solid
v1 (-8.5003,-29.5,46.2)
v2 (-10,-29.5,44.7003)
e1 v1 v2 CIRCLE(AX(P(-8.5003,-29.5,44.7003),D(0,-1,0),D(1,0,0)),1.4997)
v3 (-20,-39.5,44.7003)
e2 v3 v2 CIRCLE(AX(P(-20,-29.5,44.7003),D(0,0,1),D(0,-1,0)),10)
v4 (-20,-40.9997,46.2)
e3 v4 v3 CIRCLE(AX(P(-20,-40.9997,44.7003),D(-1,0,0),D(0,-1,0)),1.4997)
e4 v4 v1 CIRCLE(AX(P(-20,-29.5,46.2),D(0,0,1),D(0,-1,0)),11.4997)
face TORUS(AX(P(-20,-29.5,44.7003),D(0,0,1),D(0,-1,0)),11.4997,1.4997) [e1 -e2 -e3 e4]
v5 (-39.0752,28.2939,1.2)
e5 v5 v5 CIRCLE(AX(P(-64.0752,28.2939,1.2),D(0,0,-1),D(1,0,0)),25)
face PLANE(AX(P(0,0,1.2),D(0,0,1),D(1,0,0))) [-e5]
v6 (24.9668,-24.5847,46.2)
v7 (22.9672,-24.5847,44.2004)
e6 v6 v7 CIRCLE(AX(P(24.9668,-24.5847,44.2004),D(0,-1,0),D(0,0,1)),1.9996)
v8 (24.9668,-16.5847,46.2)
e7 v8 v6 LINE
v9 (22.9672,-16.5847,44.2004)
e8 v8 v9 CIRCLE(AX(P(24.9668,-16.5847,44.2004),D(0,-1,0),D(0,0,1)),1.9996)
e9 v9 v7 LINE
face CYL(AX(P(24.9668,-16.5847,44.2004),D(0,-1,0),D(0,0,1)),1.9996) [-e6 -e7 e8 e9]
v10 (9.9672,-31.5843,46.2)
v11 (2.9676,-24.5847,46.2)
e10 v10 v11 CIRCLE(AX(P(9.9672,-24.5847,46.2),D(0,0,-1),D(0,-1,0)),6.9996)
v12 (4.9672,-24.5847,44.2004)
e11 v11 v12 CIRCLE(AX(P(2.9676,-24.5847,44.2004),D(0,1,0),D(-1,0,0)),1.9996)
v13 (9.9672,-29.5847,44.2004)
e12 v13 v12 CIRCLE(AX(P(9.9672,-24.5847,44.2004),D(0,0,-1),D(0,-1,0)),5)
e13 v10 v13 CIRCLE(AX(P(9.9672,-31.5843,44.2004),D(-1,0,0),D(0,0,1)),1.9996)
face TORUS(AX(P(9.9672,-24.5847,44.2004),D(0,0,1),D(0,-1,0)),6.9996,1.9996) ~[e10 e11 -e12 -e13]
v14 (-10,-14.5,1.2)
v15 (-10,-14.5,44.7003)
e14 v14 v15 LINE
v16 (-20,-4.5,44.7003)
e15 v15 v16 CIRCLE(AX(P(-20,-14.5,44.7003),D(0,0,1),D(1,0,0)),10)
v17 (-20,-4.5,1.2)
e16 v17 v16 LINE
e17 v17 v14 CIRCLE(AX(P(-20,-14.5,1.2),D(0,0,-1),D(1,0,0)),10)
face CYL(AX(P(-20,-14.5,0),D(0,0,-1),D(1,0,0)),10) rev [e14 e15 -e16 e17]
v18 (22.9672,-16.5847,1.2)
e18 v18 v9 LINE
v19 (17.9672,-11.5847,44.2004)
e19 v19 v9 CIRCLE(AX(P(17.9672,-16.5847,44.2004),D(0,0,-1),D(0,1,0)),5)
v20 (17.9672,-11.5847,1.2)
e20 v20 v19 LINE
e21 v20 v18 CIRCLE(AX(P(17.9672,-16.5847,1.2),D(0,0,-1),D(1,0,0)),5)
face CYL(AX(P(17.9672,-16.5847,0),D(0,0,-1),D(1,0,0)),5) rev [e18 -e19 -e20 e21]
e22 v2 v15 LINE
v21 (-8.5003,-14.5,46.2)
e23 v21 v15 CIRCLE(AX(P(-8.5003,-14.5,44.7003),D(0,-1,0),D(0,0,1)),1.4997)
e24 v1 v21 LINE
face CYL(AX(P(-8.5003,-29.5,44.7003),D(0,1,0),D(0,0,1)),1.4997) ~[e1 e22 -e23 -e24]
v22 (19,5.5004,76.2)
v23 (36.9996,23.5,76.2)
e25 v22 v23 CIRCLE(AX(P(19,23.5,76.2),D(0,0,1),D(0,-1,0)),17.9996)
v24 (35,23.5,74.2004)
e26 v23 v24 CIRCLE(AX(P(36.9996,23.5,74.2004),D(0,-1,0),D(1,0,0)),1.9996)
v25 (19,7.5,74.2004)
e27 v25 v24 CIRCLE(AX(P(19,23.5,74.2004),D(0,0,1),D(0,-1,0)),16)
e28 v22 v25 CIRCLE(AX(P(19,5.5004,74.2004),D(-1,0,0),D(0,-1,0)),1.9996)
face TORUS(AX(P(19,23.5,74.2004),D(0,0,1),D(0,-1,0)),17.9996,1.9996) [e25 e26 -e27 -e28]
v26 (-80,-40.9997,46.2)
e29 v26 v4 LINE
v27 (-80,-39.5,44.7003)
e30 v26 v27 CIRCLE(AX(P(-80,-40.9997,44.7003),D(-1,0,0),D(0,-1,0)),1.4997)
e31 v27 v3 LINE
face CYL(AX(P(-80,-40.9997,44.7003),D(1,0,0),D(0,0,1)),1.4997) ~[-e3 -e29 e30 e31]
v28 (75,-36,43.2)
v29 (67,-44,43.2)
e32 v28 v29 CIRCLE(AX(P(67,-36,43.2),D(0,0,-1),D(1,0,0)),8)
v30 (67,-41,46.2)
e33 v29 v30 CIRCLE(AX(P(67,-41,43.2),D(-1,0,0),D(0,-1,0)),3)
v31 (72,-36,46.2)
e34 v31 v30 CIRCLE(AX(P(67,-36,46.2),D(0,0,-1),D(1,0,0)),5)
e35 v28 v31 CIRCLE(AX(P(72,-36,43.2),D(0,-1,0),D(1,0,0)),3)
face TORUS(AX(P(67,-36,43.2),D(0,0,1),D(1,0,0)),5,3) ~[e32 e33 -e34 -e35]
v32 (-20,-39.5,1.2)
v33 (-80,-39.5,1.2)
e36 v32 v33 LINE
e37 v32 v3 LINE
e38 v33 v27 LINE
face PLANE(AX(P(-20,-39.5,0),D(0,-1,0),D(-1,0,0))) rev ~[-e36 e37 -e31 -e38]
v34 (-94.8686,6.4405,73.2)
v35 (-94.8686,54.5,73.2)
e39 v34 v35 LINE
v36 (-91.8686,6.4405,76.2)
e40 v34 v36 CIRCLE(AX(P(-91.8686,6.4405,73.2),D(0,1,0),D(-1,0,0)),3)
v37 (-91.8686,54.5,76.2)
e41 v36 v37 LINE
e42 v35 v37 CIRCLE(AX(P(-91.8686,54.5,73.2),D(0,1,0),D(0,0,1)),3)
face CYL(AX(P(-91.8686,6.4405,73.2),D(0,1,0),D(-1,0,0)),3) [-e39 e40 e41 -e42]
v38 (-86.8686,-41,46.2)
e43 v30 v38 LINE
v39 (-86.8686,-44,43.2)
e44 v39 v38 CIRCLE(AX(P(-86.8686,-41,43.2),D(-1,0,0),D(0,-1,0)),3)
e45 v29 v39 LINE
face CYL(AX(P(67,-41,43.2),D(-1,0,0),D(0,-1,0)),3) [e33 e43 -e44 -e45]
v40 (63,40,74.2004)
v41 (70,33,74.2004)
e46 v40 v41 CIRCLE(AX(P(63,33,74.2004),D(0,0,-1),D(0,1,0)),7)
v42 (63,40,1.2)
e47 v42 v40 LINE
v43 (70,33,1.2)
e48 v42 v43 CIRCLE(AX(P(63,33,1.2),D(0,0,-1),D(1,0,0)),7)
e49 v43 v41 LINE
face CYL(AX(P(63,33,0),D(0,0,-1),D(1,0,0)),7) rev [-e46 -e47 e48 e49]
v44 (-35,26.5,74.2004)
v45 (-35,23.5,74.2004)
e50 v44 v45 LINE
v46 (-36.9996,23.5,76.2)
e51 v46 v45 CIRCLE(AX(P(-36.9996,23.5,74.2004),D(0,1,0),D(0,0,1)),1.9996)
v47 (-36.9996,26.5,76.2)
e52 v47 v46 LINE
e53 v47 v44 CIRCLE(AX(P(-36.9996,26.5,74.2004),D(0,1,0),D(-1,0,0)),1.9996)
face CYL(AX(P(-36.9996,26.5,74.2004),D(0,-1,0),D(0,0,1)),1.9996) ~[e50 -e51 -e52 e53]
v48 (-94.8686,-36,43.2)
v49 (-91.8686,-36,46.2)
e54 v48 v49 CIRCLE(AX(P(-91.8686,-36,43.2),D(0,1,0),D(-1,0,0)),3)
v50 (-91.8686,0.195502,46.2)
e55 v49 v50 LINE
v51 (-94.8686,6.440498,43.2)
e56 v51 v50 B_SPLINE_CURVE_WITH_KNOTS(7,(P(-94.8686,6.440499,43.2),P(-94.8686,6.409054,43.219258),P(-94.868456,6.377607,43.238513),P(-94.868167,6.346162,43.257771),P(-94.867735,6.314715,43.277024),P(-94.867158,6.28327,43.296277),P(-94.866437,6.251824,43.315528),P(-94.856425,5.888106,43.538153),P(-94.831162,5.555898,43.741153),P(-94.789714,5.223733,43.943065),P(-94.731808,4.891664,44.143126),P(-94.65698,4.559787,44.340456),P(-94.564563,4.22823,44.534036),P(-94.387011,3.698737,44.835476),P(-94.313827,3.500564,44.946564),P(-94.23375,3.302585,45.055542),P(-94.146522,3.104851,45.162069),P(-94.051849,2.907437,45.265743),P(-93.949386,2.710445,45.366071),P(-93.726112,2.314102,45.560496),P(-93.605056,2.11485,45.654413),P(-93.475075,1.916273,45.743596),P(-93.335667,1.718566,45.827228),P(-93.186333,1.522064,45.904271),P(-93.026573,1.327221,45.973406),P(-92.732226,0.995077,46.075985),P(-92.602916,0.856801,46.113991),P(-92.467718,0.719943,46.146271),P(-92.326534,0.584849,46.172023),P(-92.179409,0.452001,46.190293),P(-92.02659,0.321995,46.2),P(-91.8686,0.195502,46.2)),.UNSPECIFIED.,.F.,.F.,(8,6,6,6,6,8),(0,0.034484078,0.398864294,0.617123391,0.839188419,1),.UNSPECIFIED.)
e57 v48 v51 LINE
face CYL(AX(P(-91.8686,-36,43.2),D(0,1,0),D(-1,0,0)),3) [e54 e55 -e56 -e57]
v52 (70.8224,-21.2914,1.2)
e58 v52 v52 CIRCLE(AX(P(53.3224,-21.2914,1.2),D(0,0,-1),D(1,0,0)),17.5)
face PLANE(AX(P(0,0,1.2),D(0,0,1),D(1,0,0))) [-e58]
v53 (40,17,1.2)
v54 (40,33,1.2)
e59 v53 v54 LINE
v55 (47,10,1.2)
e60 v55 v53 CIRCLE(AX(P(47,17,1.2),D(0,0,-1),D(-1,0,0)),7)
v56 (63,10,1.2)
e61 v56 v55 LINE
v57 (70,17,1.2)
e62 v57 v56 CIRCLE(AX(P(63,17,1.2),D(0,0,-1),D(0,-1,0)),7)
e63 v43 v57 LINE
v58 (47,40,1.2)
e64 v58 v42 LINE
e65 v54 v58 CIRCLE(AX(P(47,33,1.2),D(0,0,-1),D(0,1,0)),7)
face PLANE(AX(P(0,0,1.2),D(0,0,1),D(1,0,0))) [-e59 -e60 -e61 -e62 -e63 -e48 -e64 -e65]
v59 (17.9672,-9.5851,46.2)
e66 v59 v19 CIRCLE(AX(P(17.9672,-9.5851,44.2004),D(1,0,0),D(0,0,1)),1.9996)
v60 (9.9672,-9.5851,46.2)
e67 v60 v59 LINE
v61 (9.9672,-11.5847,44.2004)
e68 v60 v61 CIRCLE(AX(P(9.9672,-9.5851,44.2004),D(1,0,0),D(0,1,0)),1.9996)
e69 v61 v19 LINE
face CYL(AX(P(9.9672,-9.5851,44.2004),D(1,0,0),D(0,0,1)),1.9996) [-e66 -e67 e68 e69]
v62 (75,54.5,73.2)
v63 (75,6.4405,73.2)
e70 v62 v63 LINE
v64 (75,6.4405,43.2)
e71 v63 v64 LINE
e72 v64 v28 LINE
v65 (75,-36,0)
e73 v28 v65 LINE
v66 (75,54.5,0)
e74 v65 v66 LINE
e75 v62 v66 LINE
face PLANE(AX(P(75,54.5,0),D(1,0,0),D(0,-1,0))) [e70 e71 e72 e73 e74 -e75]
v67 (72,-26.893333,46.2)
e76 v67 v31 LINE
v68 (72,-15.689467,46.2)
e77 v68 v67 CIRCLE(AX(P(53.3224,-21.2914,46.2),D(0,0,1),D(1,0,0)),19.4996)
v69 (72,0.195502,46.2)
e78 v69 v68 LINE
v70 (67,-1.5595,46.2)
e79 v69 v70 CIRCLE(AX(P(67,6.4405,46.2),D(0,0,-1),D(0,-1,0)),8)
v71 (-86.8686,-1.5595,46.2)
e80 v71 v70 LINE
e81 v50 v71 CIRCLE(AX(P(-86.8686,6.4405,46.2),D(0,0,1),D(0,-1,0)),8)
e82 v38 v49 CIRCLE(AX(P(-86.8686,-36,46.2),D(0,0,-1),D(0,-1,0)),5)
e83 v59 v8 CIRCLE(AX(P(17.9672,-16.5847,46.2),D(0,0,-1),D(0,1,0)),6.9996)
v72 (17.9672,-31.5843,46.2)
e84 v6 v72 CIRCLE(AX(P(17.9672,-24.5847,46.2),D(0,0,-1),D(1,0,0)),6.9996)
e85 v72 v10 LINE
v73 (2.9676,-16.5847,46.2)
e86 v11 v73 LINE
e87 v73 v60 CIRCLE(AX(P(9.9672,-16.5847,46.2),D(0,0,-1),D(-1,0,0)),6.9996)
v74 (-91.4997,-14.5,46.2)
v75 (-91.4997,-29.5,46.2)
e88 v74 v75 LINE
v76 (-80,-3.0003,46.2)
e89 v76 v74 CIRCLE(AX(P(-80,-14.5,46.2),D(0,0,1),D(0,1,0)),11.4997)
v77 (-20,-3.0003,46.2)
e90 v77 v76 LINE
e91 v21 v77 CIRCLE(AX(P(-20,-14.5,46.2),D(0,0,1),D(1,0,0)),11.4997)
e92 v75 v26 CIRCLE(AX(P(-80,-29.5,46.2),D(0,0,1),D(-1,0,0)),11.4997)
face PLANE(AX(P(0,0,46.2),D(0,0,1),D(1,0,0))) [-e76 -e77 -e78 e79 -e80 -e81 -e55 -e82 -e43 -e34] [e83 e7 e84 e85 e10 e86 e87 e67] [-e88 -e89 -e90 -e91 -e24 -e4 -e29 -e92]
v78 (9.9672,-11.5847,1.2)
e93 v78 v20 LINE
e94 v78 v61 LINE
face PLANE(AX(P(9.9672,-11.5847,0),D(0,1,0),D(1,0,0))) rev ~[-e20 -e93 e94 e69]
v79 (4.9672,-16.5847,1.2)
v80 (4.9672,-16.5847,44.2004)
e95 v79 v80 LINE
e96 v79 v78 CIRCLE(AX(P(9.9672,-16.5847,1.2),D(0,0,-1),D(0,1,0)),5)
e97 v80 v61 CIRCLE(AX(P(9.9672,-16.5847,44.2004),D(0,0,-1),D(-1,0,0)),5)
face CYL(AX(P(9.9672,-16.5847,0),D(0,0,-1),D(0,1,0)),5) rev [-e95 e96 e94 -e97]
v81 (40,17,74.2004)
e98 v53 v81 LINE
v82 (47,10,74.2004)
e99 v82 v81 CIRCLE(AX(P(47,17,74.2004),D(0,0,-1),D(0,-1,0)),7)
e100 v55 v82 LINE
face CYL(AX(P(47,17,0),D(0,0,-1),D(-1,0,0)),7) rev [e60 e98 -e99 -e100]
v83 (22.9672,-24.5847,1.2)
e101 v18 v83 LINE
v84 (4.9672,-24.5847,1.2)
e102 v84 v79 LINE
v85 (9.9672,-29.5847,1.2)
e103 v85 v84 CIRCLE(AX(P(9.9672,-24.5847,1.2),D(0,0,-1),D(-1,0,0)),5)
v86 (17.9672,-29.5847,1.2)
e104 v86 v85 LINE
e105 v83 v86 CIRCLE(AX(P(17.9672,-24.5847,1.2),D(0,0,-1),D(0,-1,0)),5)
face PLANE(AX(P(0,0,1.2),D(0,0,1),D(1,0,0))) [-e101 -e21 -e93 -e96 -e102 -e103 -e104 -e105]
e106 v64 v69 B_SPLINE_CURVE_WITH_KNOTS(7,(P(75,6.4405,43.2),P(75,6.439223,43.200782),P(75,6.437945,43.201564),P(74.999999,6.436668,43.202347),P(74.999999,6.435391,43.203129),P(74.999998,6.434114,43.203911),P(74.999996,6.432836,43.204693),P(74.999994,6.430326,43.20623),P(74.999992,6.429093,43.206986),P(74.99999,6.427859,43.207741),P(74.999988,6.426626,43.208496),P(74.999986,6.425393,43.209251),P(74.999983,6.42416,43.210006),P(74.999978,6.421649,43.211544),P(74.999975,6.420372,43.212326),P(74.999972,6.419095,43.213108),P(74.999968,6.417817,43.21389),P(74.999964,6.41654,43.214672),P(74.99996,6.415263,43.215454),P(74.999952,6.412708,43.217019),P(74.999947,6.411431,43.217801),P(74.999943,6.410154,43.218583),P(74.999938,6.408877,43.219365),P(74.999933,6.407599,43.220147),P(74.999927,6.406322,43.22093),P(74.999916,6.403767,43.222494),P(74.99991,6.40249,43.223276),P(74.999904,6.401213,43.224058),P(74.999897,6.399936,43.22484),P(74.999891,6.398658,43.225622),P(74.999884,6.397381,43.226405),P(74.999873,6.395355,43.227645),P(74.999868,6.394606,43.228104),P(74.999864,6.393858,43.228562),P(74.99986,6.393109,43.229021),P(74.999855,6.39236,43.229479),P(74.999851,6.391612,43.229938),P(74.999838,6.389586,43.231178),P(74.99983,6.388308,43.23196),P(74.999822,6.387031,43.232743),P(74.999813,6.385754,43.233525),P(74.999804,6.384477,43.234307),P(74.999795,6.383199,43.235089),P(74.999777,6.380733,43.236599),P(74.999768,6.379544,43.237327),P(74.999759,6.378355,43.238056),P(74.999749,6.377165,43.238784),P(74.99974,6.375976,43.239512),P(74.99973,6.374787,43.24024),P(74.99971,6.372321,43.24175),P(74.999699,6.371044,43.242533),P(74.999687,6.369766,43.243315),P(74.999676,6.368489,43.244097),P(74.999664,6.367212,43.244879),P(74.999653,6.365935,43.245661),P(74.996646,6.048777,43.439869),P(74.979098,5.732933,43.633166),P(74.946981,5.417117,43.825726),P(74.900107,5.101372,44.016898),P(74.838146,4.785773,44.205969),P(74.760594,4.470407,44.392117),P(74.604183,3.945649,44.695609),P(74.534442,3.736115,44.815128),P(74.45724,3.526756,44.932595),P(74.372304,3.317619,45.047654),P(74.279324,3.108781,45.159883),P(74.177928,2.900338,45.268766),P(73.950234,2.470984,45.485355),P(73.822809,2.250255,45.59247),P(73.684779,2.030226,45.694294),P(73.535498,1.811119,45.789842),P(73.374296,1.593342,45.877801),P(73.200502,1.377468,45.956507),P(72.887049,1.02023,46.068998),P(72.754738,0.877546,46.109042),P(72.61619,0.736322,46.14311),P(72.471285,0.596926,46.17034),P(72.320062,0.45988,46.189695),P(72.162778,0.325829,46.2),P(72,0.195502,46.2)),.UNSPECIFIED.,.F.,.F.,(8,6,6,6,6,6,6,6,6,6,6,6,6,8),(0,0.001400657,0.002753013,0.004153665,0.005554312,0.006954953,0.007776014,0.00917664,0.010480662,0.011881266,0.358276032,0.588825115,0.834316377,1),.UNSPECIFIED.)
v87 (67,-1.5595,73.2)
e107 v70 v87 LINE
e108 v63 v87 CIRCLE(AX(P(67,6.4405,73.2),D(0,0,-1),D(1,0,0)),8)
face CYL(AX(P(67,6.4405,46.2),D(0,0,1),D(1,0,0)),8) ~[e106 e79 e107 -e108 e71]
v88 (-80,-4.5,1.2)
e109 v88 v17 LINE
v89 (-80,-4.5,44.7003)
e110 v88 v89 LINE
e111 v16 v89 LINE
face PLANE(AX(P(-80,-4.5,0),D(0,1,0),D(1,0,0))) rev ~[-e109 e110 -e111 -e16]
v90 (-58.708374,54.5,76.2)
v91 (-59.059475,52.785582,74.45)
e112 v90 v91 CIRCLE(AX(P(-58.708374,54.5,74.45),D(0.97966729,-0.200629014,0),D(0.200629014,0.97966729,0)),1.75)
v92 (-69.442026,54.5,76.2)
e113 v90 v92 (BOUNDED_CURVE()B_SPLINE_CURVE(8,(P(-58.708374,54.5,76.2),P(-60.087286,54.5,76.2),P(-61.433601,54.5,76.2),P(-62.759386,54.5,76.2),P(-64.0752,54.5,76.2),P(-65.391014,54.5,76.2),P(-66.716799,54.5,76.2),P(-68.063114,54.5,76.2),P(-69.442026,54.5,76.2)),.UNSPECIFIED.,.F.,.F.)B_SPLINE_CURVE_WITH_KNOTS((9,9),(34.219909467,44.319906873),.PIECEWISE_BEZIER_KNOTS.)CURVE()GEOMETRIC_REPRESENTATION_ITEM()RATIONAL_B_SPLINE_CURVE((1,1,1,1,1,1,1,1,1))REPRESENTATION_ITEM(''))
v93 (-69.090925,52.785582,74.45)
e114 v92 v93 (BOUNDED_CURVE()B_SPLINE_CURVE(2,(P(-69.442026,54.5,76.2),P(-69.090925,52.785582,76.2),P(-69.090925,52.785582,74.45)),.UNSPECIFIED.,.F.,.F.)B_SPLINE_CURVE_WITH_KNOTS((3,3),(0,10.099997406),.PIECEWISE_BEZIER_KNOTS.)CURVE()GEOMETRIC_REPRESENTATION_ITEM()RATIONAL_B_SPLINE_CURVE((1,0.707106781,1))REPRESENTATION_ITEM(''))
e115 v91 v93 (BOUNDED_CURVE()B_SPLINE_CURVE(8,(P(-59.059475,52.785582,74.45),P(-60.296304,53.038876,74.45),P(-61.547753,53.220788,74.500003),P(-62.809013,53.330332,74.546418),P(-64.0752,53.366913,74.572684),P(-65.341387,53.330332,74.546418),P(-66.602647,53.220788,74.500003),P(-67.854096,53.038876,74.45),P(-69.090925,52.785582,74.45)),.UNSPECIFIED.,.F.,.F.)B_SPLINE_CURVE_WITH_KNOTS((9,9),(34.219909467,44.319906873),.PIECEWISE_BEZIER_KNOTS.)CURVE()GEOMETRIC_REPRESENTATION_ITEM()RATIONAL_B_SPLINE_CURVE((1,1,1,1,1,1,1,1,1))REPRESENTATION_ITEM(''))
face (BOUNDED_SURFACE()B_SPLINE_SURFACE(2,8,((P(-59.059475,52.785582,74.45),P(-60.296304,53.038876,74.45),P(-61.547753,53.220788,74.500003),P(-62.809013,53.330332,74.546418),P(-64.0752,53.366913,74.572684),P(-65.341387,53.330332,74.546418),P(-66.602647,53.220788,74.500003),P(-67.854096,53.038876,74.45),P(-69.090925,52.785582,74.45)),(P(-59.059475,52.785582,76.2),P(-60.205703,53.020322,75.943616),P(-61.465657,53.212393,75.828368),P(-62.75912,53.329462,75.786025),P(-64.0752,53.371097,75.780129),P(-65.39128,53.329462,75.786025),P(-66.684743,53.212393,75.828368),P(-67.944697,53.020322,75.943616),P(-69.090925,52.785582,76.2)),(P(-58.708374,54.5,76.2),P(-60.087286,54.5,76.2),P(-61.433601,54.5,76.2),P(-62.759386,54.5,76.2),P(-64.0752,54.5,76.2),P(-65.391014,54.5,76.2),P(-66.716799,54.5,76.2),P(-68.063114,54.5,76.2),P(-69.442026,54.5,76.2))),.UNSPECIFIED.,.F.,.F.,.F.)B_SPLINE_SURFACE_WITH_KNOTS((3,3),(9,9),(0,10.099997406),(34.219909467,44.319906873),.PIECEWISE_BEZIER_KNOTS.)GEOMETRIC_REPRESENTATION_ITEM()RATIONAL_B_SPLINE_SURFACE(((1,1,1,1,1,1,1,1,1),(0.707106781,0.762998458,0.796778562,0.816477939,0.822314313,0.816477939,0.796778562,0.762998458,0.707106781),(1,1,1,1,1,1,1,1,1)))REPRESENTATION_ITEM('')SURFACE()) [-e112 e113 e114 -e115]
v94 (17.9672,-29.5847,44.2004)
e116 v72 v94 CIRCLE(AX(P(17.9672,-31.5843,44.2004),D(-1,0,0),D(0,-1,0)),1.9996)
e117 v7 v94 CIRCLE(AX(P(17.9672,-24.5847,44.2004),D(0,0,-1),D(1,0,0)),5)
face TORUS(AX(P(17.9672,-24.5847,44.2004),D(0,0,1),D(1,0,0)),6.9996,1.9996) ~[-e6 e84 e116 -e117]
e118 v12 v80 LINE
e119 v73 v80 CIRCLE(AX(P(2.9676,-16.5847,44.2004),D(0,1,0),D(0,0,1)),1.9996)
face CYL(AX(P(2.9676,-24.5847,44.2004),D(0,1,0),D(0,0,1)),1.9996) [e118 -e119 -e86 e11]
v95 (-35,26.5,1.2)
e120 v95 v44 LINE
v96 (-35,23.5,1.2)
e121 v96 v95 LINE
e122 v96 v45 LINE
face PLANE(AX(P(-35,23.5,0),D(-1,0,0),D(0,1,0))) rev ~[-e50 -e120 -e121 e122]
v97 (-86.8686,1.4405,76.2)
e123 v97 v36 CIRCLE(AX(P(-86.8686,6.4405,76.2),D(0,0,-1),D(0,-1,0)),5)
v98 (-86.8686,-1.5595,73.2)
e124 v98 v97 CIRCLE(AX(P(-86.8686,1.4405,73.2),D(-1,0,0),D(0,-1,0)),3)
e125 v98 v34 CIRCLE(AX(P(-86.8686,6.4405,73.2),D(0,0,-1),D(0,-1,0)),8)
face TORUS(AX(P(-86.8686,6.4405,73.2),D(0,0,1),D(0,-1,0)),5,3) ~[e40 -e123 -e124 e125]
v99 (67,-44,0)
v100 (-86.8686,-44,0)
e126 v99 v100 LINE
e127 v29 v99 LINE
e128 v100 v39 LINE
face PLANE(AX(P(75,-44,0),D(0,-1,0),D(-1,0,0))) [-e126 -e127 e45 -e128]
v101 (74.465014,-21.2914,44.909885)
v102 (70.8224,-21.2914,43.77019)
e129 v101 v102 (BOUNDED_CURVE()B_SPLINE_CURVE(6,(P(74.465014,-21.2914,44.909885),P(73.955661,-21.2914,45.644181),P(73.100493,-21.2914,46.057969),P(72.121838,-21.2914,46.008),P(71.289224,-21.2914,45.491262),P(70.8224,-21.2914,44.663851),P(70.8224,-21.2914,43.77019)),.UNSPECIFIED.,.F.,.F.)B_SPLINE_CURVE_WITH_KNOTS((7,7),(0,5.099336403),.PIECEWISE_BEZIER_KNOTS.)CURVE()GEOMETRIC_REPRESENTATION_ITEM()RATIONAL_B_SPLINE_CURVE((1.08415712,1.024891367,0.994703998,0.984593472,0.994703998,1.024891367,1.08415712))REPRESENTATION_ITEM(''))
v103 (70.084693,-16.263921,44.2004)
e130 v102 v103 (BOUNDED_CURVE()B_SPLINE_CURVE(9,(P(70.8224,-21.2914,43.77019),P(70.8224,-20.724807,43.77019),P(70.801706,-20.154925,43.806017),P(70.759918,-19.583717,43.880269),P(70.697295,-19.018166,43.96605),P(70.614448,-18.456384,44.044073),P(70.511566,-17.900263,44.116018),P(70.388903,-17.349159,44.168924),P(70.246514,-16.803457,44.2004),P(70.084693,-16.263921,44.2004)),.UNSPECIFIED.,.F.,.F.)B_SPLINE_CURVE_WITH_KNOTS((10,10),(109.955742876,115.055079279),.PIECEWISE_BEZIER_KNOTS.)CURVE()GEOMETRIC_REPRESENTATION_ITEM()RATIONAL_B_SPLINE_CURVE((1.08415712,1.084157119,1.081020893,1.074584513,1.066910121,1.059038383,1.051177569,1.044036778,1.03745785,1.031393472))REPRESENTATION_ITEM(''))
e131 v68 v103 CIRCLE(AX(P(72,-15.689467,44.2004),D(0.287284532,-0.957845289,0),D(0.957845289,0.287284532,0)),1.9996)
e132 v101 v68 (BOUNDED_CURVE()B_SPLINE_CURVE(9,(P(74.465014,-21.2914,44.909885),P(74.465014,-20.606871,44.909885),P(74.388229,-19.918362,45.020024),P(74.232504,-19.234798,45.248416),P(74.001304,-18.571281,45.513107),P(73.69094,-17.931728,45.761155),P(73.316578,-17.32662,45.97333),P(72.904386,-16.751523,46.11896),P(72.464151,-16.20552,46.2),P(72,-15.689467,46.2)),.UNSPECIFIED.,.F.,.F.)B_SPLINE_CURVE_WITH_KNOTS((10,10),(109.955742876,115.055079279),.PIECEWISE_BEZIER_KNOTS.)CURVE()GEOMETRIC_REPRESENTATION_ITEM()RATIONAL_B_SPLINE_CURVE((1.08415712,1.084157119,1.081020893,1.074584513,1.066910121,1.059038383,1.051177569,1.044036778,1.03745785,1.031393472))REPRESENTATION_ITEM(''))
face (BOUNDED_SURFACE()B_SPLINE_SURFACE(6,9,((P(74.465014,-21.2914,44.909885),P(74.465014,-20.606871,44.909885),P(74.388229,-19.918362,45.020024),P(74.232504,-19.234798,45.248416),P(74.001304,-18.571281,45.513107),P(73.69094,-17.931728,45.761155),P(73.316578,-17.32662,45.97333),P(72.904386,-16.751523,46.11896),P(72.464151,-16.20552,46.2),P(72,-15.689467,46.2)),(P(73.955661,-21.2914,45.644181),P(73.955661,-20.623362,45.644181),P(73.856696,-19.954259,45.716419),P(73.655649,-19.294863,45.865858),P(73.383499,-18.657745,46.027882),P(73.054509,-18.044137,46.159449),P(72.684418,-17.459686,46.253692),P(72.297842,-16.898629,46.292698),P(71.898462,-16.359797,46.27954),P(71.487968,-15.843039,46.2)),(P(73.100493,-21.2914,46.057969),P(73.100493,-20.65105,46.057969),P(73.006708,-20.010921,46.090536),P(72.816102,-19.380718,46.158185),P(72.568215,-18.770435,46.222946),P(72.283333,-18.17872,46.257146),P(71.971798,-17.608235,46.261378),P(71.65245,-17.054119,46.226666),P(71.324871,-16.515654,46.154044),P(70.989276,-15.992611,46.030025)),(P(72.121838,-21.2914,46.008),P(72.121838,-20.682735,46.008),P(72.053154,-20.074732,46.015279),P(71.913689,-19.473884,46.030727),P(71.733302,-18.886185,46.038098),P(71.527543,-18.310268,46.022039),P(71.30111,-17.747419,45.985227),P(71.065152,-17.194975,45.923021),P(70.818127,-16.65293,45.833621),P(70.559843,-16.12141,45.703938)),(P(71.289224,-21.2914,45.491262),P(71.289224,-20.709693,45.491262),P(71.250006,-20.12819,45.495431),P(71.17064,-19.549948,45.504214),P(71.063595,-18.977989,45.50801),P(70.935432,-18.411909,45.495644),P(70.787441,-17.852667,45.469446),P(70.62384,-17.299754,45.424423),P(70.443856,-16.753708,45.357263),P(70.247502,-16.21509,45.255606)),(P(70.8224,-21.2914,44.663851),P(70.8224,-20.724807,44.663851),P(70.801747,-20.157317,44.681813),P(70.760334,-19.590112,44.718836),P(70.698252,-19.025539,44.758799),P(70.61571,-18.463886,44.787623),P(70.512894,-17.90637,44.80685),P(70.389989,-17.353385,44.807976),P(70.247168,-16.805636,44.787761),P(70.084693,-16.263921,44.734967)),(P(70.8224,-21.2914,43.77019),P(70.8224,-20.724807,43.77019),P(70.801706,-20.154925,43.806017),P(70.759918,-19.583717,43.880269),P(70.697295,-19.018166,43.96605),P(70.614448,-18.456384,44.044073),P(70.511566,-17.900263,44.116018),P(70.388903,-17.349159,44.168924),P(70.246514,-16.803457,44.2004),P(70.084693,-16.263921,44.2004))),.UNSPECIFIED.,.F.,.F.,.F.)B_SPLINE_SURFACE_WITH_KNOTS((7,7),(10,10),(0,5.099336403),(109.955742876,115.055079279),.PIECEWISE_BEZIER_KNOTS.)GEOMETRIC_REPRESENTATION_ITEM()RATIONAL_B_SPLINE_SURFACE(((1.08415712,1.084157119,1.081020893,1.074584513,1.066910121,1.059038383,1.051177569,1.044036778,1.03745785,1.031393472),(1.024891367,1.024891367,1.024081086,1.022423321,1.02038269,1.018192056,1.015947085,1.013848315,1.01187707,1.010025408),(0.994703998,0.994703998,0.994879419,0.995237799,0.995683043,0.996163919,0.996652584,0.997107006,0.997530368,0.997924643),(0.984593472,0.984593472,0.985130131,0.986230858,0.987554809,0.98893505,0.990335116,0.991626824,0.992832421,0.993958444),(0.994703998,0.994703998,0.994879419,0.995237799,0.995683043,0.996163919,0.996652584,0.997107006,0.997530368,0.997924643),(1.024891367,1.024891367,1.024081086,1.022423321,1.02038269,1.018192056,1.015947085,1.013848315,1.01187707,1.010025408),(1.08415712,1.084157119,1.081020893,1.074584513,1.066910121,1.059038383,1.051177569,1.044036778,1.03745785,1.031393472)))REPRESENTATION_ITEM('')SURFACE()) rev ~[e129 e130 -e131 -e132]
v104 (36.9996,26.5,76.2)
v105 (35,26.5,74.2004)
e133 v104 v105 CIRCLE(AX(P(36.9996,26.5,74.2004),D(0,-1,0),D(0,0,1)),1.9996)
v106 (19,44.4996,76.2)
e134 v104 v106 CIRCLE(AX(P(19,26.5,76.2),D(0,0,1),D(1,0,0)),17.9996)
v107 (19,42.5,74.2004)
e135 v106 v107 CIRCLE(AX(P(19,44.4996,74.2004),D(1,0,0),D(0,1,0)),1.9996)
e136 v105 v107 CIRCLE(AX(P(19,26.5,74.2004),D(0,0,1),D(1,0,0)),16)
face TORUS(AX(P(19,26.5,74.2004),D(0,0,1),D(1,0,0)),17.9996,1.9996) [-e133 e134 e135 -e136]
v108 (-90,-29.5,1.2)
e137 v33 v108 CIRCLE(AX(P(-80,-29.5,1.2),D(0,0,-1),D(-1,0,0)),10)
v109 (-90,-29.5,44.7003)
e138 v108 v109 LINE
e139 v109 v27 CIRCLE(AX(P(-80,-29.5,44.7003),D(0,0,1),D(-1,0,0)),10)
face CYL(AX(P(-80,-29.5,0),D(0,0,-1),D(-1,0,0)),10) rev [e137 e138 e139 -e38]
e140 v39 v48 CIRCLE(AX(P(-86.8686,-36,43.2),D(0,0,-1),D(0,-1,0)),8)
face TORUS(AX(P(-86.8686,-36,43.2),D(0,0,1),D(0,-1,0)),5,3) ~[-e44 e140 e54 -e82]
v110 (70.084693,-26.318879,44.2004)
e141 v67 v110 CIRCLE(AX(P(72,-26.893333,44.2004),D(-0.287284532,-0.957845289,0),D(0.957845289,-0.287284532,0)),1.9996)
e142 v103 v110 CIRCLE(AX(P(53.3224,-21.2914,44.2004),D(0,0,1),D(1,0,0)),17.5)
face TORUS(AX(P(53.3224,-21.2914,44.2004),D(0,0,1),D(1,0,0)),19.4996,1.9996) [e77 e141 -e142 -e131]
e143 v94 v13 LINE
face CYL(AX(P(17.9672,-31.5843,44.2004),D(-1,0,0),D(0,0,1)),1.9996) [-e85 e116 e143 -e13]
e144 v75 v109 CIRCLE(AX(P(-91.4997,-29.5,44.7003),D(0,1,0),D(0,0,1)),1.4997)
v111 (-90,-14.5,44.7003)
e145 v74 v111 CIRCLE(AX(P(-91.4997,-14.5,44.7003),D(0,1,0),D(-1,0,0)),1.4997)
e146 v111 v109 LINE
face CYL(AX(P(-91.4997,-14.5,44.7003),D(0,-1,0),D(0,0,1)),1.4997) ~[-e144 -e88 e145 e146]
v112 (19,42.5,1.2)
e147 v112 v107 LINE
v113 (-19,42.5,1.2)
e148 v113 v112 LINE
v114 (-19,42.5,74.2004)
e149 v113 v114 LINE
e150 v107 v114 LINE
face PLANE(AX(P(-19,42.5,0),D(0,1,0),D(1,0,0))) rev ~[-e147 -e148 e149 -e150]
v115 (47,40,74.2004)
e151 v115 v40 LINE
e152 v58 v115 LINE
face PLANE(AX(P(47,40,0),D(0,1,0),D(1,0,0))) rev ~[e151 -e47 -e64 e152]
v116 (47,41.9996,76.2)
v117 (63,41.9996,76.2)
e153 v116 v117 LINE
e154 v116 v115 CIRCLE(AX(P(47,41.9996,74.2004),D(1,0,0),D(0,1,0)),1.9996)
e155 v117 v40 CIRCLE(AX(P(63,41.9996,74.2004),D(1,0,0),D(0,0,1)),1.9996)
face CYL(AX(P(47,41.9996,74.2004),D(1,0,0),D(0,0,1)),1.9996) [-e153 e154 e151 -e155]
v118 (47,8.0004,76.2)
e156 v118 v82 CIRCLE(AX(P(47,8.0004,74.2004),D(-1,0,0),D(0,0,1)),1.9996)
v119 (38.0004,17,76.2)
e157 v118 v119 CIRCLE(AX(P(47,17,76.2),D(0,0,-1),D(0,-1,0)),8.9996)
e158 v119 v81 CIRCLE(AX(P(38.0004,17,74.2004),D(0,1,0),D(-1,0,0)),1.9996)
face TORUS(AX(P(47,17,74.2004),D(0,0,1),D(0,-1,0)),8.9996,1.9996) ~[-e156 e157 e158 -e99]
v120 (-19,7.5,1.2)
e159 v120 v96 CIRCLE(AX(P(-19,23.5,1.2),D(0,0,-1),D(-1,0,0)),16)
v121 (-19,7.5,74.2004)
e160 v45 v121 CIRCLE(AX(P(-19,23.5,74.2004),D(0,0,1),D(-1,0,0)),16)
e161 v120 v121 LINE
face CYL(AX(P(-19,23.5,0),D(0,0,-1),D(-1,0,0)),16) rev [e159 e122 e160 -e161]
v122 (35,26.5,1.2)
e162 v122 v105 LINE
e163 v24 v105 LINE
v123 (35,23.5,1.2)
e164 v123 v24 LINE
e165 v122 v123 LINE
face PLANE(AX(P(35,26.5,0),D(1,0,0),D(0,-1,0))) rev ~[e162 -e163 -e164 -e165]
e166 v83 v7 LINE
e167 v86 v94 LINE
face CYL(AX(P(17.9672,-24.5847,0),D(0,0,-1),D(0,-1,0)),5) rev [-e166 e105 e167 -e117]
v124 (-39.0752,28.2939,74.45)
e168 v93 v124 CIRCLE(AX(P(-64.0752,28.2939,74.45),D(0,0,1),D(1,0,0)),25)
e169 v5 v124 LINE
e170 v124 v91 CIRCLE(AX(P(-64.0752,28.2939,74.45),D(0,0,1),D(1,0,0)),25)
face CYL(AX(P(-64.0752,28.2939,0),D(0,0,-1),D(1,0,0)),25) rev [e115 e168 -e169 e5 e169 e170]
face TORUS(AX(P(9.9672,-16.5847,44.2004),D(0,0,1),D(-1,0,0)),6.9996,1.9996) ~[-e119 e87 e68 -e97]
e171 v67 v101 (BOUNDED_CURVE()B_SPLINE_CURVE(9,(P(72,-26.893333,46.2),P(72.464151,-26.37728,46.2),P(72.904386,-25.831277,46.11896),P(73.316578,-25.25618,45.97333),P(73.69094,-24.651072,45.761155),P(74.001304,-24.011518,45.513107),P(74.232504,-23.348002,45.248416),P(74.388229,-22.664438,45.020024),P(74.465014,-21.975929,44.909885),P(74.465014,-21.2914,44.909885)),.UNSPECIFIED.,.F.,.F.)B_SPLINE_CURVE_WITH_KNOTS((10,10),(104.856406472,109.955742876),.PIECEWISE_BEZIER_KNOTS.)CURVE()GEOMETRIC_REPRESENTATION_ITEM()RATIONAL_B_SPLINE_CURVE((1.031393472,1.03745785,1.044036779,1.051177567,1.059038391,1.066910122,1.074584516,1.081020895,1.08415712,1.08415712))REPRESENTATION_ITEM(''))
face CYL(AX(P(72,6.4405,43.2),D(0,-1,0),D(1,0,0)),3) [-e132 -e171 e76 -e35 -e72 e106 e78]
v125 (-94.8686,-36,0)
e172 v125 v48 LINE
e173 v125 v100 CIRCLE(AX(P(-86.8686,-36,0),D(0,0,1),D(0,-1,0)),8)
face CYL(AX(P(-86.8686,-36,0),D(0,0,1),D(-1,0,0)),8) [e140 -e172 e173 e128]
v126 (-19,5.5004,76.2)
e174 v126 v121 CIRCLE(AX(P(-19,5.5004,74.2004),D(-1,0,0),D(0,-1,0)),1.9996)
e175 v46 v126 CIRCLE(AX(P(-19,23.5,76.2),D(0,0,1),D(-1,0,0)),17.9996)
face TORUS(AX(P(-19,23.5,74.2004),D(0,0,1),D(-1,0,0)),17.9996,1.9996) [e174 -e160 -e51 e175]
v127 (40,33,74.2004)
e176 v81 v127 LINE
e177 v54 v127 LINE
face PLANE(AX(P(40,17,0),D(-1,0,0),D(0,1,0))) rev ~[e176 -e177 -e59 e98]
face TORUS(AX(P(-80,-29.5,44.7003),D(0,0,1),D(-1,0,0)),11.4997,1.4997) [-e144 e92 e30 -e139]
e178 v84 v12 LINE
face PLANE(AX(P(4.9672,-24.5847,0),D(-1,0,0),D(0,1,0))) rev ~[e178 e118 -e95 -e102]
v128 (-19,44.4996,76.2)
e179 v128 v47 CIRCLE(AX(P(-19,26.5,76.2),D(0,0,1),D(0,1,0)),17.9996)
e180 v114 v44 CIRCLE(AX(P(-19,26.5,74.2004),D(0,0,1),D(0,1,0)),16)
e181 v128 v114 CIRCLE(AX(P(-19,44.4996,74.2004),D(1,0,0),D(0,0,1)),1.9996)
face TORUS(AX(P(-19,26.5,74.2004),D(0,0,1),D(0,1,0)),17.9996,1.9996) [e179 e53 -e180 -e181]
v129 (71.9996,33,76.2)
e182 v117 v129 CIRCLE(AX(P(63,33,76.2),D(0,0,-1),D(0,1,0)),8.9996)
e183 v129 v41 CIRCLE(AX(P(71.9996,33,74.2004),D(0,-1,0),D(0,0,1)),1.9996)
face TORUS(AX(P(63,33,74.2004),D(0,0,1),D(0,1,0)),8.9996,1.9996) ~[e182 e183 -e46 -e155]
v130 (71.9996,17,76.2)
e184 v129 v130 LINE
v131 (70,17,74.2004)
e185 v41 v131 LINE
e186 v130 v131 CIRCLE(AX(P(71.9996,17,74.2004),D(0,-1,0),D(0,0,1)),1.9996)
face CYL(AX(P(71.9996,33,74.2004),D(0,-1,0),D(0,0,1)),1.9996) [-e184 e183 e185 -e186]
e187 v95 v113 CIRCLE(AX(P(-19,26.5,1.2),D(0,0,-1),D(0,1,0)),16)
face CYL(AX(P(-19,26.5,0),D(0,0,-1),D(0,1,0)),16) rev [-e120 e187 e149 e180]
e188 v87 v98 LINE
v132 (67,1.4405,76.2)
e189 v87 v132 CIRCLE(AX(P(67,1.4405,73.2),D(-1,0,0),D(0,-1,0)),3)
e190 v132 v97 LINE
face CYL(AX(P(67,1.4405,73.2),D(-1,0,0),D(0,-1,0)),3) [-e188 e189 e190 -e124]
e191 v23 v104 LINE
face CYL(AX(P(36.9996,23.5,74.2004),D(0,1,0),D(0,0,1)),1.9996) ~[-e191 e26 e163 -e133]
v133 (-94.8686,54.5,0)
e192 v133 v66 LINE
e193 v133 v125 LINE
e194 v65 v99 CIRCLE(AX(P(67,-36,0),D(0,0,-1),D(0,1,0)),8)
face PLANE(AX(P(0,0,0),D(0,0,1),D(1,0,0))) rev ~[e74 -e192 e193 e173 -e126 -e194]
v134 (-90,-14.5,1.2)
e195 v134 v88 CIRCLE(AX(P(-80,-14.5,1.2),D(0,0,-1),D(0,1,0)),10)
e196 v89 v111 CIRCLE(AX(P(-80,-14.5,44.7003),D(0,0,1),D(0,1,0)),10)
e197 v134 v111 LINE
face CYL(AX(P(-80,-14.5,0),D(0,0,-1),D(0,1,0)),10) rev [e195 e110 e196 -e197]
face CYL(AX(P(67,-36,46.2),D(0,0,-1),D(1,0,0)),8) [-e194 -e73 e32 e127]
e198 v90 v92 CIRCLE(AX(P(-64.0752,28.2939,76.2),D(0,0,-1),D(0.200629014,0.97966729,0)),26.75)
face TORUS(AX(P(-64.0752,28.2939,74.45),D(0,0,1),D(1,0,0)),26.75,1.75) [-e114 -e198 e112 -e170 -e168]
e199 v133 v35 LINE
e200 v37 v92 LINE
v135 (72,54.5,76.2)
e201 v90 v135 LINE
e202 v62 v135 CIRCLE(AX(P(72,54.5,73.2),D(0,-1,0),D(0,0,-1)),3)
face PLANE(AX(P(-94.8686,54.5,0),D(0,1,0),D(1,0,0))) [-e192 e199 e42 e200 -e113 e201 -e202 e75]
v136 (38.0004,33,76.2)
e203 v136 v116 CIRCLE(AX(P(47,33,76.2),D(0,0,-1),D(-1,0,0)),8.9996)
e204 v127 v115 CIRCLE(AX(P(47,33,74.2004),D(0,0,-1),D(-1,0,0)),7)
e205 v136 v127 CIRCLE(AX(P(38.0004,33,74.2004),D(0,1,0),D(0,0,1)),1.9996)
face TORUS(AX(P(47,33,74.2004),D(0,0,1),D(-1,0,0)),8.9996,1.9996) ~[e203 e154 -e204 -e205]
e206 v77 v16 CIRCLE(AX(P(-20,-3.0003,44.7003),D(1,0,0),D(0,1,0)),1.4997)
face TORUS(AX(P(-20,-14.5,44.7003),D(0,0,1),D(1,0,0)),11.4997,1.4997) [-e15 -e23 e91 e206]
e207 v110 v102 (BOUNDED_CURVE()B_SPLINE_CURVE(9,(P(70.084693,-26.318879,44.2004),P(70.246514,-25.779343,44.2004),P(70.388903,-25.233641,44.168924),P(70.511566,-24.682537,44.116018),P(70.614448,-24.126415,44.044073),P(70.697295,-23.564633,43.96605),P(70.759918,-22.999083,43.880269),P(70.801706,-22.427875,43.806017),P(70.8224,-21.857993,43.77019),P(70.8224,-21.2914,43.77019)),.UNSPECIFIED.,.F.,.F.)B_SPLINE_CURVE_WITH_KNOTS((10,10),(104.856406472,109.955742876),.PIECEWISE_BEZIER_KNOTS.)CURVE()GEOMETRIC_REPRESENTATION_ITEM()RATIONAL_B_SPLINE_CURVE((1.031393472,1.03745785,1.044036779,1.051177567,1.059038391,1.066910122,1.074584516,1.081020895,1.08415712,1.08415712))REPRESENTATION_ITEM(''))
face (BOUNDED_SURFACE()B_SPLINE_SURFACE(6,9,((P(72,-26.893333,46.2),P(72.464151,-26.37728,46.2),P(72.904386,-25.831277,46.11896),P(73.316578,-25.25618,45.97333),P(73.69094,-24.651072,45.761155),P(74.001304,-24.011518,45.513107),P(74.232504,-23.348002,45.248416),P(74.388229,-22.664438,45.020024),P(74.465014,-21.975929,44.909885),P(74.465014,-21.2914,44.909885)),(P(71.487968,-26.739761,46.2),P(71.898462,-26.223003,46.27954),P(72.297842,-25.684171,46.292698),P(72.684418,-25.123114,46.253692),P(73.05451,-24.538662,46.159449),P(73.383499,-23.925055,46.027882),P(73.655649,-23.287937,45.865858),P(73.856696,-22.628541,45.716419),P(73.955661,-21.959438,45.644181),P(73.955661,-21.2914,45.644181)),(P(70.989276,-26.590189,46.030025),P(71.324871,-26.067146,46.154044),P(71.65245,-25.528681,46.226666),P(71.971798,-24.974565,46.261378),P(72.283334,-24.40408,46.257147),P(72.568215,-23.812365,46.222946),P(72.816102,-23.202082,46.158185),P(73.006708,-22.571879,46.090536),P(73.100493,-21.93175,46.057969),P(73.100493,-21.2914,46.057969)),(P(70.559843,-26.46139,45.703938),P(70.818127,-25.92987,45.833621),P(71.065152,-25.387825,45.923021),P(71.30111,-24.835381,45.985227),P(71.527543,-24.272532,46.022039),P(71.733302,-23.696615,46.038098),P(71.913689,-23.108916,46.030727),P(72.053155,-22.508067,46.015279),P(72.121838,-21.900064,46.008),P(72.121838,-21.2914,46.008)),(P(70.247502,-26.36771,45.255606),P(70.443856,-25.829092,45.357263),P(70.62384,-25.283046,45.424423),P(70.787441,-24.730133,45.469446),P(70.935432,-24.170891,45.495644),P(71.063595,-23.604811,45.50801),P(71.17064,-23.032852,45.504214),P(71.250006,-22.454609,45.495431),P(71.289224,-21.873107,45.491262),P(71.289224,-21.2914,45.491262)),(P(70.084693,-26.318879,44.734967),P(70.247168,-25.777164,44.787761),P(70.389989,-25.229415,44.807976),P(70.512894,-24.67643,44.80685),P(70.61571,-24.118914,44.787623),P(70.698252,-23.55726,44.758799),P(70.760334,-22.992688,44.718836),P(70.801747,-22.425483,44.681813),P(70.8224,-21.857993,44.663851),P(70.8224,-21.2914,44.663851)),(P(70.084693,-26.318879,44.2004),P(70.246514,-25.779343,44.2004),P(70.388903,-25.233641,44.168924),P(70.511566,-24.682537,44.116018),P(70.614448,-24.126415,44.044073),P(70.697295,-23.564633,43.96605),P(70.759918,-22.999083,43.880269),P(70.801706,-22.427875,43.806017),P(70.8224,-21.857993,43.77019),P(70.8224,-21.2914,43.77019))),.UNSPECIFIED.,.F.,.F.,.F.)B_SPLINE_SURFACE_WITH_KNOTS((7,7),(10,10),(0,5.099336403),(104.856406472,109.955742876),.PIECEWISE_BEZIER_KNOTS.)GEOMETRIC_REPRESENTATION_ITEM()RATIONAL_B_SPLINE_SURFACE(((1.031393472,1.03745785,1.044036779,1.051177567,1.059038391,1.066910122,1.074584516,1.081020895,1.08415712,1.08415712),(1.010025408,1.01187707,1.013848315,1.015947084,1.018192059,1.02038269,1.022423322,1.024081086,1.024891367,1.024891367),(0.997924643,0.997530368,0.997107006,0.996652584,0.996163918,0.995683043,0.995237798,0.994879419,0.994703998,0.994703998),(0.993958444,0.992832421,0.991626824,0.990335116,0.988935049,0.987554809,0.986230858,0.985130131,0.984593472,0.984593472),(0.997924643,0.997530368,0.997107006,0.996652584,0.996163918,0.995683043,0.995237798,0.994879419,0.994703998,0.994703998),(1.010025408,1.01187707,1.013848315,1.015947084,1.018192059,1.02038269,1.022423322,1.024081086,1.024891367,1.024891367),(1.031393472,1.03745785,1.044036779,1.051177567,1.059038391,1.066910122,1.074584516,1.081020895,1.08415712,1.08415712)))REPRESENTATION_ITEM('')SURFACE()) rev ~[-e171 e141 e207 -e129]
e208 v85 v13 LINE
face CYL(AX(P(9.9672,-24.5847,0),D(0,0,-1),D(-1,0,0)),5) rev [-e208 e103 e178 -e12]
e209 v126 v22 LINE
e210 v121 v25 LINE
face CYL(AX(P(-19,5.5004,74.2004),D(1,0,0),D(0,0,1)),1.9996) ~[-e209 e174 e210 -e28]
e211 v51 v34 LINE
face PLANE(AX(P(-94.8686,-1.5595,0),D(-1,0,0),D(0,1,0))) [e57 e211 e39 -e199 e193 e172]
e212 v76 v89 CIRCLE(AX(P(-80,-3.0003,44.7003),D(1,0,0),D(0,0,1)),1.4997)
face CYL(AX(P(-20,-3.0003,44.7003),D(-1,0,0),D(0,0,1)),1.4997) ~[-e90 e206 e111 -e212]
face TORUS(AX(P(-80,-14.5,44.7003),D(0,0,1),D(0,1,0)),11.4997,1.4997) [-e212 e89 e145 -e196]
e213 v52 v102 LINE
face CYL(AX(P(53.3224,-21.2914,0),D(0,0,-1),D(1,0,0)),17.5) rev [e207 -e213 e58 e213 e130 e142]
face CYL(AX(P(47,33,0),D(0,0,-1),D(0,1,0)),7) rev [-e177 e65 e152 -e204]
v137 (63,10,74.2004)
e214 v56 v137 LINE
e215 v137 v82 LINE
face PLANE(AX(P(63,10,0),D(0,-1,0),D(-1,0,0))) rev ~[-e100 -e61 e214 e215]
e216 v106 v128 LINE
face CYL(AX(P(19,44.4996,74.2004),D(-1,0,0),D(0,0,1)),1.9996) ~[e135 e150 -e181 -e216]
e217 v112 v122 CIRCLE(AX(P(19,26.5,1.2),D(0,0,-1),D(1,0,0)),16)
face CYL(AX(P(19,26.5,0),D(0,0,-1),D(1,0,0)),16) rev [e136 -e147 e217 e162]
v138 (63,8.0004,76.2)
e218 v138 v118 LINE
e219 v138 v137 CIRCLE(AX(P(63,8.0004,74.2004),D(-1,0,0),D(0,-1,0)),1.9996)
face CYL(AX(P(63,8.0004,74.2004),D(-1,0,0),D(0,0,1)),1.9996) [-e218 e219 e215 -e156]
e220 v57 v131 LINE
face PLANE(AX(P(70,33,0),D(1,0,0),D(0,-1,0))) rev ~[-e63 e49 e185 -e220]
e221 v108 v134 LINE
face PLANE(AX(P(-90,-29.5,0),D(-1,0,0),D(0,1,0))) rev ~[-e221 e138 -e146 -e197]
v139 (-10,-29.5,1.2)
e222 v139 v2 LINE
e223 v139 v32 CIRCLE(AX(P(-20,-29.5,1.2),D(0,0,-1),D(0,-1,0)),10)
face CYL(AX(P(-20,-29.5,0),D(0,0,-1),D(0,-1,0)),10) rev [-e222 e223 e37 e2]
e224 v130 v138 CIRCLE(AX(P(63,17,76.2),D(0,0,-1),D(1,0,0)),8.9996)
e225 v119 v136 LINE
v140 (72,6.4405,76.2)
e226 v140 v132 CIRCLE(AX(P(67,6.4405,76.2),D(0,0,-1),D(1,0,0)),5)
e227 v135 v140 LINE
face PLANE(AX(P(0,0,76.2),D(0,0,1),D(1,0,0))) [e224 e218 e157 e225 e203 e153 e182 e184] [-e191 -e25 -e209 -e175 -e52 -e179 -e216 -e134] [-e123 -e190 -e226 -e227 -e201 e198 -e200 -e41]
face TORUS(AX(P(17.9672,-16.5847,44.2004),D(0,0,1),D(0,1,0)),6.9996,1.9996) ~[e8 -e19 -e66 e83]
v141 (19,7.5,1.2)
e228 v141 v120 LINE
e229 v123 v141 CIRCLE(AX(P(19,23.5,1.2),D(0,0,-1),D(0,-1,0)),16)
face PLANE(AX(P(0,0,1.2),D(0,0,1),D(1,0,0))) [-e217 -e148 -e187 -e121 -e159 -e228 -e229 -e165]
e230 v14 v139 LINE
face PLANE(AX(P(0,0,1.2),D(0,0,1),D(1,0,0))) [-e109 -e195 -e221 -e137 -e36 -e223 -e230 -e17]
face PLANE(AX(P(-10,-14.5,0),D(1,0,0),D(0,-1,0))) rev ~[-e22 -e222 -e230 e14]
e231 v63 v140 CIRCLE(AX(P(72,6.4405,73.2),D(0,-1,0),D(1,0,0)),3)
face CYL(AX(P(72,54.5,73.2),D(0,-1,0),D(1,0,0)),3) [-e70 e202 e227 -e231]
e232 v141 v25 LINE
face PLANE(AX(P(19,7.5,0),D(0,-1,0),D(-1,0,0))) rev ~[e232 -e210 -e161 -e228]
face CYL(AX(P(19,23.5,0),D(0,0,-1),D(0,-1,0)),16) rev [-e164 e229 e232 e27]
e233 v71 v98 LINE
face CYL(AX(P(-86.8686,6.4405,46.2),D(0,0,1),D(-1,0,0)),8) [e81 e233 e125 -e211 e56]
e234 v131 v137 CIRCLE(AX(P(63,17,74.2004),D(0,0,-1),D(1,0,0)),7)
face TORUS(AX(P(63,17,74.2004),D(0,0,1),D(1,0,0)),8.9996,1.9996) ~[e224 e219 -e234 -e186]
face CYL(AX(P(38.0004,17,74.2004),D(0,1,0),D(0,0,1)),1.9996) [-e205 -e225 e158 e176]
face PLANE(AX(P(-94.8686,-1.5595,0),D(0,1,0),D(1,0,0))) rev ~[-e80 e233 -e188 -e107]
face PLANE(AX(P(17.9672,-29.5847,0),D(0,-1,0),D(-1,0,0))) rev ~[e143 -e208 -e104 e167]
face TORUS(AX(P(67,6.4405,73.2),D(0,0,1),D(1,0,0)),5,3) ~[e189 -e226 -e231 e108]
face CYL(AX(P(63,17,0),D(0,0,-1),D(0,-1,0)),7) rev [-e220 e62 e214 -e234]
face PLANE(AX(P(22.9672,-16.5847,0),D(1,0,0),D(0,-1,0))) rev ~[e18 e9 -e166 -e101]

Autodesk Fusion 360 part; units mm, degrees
sketch "Sketch1" plane through (0, 0, 0) normal (0, 0, 1) x (1, 0, 0)
  line L0 (-19, 42.5) -> (19, 42.5)
  line L1 (35, 26.5) -> (35, 23.5)
  line L2 (19, 7.5) -> (-19, 7.5)
  line L3 (-35, 23.5) -> (-35, 26.5)
  arc A0 (-19, 42.5) -> (-35, 26.5) centre (-19, 26.5) ccw
  arc A1 (-35, 23.5) -> (-19, 7.5) centre (-19, 23.5) ccw
  arc A2 (19, 7.5) -> (35, 23.5) centre (19, 23.5) ccw
  arc A3 (35, 26.5) -> (19, 42.5) centre (19, 26.5) ccw
  circle A4 centre (-64.0752, 28.2939) radius 25
  line L4 (63, 10) -> (47, 10)
  line L5 (40, 17) -> (40, 33)
  line L6 (47, 40) -> (63, 40)
  line L7 (70, 33) -> (70, 17)
  line L8 (70, 10) -> (40, 40) construction
  line L9 (40, 10) -> (70, 40) construction
  arc A5 (47, 40) -> (40, 33) centre (47, 33) ccw
  arc A6 (40, 17) -> (47, 10) centre (47, 17) ccw
  arc A7 (63, 10) -> (70, 17) centre (63, 17) ccw
  arc A8 (70, 33) -> (63, 40) centre (63, 33) ccw
  line L10 (-20, -39.5) -> (-80, -39.5)
  line L11 (-90, -29.5) -> (-90, -14.5)
  line L12 (-80, -4.5) -> (-20, -4.5)
  line L13 (-10, -14.5) -> (-10, -29.5)
  line L14 (-10, -39.5) -> (-90, -4.5) construction
  line L15 (-90, -39.5) -> (-10, -4.5) construction
  arc A9 (-80, -4.5) -> (-90, -14.5) centre (-80, -14.5) ccw
  arc A10 (-90, -29.5) -> (-80, -39.5) centre (-80, -29.5) ccw
  arc A11 (-20, -39.5) -> (-10, -29.5) centre (-20, -29.5) ccw
  arc A12 (-10, -14.5) -> (-20, -4.5) centre (-20, -14.5) ccw
  line L16 (9.9672, -11.5847) -> (17.9672, -11.5847)
  line L17 (22.9672, -16.5847) -> (22.9672, -24.5847)
  line L18 (17.9672, -29.5847) -> (9.9672, -29.5847)
  line L19 (4.9672, -24.5847) -> (4.9672, -16.5847)
  arc A13 (9.9672, -11.5847) -> (4.9672, -16.5847) centre (9.9672, -16.5847) ccw
  arc A14 (22.9672, -16.5847) -> (17.9672, -11.5847) centre (17.9672, -16.5847) ccw
  arc A15 (17.9672, -29.5847) -> (22.9672, -24.5847) centre (17.9672, -24.5847) ccw
  arc A16 (4.9672, -24.5847) -> (9.9672, -29.5847) centre (9.9672, -24.5847) ccw
  circle A17 centre (53.3224, -21.2914) radius 17.5
  line L20 (-94.8686, 54.5) -> (75, 54.5)
  line L21 (75, 54.5) -> (75, -44)
  line L22 (75, -44) -> (-94.8686, -44)
  line L23 (-94.8686, -44) -> (-94.8686, 54.5)
  line L24 (-94.8686, -1.5595) -> (75, -1.5595)
  line L25 (75, -1.5595) -> (75, 54.5)
  line L26 (75, 54.5) -> (-94.8686, 54.5)
  line L27 (-94.8686, 54.5) -> (-94.8686, -1.5595)
  point P0 (-35, 42.5)
  point P1 (35, 42.5)
  point P2 (-35, 7.5)
  point P3 (55, 25)
  point P4 (-50, -22)
  point P5 (4.9672, -11.5847)
  point P6 (22.9672, -11.5847)
  point P7 (4.9672, -29.5847)
  dimension "d1" = 70
  dimension "d2" = 35
  dimension "d3" = 16
  dimension "d4" = 16
  dimension "d5" = 16
  dimension "d6" = 16
  dimension "d7" = 50
  dimension "d8" = 30
  dimension "d9" = 30
  dimension "d10" = 7
  dimension "d11" = 80
  dimension "d12" = 35
  dimension "d13" = 10
  dimension "d14" = 18
  dimension "d15" = 18
  dimension "d16" = 5
  dimension "d17" = 35
extrude "Extrude1" add sketch "Sketch1" along normal blind 76.2 contours L20 L21 L23 L24 L25 L26 L27
extrude "Extrude2" add sketch "Sketch1" along normal blind 46.2 contours L21 L22 L23 L24
extrude "Extrude3" add sketch "Sketch1" along normal blind 1.2 contours L0 L1 L2 L3 A0 A1 A2 A3 | A4 | L4 L5 L6 L7 A5 A6 A7 A8 | L10 L11 L12 L13 A9 A10 A11 A12 | L16 L17 L18 L19 A13 A14 A15 A16 | A17 | L20 L21 L23 L24 L25 L26 L27 | L21 L22 L23 L24
fillet "Fillet1" radius 8 4 edges at (75, -1.5595, 61.2) (-94.8686, -1.5595, 61.2) (-94.8686, -44, 23.1) (75, -44, 23.1)
fillet "Fillet2" radius 3 10 edges at (-94.8686, -14.7797, 46.2) (-92.5254, -41.6569, 46.2) (-9.9343, -44, 46.2) (72.6569, -41.6569, 46.2) (75, -14.7797, 46.2) (-94.8686, 30.4703, 76.2) (-92.5254, 0.7837, 76.2) (-9.9343, -1.5595, 76.2) (72.6569, 0.7837, 76.2) (75, 30.4703, 76.2)
fillet "Fillet3" radius 1.5 8 edges at (-12.9289, -36.5711, 46.2) (-50, -39.5, 46.2) (-87.0711, -36.5711, 46.2) (-90, -22, 46.2) (-87.0711, -7.4289, 46.2) (-50, -4.5, 46.2) (-12.9289, -7.4289, 46.2) (-10, -22, 46.2)
fillet "Fillet4" radius 2 25 edges at (30.3137, 12.1863, 76.2) (0, 7.5, 76.2) (-30.3137, 12.1863, 76.2) (-35, 25, 76.2) (-30.3137, 37.8137, 76.2) (0, 42.5, 76.2) (30.3137, 37.8137, 76.2) (35, 25, 76.2) (70, 25, 76.2) (67.9497, 12.0503, 76.2) (55, 10, 76.2) (42.0503, 12.0503, 76.2) (40, 25, 76.2) (42.0503, 37.9497, 76.2) (55, 40, 76.2) (67.9497, 37.9497, 76.2) (37.0067, -14.9632, 46.2) (22.9672, -20.5847, 46.2) (21.5027, -28.1202, 46.2) (13.9672, -29.5847, 46.2) (6.4316, -28.1202, 46.2) (4.9672, -20.5847, 46.2) (6.4316, -13.0492, 46.2) (13.9672, -11.5847, 46.2) (21.5027, -13.0492, 46.2)
fillet "Fillet5" radius 1.75 1 edges at (-87.3834, 37.3343, 76.2)
